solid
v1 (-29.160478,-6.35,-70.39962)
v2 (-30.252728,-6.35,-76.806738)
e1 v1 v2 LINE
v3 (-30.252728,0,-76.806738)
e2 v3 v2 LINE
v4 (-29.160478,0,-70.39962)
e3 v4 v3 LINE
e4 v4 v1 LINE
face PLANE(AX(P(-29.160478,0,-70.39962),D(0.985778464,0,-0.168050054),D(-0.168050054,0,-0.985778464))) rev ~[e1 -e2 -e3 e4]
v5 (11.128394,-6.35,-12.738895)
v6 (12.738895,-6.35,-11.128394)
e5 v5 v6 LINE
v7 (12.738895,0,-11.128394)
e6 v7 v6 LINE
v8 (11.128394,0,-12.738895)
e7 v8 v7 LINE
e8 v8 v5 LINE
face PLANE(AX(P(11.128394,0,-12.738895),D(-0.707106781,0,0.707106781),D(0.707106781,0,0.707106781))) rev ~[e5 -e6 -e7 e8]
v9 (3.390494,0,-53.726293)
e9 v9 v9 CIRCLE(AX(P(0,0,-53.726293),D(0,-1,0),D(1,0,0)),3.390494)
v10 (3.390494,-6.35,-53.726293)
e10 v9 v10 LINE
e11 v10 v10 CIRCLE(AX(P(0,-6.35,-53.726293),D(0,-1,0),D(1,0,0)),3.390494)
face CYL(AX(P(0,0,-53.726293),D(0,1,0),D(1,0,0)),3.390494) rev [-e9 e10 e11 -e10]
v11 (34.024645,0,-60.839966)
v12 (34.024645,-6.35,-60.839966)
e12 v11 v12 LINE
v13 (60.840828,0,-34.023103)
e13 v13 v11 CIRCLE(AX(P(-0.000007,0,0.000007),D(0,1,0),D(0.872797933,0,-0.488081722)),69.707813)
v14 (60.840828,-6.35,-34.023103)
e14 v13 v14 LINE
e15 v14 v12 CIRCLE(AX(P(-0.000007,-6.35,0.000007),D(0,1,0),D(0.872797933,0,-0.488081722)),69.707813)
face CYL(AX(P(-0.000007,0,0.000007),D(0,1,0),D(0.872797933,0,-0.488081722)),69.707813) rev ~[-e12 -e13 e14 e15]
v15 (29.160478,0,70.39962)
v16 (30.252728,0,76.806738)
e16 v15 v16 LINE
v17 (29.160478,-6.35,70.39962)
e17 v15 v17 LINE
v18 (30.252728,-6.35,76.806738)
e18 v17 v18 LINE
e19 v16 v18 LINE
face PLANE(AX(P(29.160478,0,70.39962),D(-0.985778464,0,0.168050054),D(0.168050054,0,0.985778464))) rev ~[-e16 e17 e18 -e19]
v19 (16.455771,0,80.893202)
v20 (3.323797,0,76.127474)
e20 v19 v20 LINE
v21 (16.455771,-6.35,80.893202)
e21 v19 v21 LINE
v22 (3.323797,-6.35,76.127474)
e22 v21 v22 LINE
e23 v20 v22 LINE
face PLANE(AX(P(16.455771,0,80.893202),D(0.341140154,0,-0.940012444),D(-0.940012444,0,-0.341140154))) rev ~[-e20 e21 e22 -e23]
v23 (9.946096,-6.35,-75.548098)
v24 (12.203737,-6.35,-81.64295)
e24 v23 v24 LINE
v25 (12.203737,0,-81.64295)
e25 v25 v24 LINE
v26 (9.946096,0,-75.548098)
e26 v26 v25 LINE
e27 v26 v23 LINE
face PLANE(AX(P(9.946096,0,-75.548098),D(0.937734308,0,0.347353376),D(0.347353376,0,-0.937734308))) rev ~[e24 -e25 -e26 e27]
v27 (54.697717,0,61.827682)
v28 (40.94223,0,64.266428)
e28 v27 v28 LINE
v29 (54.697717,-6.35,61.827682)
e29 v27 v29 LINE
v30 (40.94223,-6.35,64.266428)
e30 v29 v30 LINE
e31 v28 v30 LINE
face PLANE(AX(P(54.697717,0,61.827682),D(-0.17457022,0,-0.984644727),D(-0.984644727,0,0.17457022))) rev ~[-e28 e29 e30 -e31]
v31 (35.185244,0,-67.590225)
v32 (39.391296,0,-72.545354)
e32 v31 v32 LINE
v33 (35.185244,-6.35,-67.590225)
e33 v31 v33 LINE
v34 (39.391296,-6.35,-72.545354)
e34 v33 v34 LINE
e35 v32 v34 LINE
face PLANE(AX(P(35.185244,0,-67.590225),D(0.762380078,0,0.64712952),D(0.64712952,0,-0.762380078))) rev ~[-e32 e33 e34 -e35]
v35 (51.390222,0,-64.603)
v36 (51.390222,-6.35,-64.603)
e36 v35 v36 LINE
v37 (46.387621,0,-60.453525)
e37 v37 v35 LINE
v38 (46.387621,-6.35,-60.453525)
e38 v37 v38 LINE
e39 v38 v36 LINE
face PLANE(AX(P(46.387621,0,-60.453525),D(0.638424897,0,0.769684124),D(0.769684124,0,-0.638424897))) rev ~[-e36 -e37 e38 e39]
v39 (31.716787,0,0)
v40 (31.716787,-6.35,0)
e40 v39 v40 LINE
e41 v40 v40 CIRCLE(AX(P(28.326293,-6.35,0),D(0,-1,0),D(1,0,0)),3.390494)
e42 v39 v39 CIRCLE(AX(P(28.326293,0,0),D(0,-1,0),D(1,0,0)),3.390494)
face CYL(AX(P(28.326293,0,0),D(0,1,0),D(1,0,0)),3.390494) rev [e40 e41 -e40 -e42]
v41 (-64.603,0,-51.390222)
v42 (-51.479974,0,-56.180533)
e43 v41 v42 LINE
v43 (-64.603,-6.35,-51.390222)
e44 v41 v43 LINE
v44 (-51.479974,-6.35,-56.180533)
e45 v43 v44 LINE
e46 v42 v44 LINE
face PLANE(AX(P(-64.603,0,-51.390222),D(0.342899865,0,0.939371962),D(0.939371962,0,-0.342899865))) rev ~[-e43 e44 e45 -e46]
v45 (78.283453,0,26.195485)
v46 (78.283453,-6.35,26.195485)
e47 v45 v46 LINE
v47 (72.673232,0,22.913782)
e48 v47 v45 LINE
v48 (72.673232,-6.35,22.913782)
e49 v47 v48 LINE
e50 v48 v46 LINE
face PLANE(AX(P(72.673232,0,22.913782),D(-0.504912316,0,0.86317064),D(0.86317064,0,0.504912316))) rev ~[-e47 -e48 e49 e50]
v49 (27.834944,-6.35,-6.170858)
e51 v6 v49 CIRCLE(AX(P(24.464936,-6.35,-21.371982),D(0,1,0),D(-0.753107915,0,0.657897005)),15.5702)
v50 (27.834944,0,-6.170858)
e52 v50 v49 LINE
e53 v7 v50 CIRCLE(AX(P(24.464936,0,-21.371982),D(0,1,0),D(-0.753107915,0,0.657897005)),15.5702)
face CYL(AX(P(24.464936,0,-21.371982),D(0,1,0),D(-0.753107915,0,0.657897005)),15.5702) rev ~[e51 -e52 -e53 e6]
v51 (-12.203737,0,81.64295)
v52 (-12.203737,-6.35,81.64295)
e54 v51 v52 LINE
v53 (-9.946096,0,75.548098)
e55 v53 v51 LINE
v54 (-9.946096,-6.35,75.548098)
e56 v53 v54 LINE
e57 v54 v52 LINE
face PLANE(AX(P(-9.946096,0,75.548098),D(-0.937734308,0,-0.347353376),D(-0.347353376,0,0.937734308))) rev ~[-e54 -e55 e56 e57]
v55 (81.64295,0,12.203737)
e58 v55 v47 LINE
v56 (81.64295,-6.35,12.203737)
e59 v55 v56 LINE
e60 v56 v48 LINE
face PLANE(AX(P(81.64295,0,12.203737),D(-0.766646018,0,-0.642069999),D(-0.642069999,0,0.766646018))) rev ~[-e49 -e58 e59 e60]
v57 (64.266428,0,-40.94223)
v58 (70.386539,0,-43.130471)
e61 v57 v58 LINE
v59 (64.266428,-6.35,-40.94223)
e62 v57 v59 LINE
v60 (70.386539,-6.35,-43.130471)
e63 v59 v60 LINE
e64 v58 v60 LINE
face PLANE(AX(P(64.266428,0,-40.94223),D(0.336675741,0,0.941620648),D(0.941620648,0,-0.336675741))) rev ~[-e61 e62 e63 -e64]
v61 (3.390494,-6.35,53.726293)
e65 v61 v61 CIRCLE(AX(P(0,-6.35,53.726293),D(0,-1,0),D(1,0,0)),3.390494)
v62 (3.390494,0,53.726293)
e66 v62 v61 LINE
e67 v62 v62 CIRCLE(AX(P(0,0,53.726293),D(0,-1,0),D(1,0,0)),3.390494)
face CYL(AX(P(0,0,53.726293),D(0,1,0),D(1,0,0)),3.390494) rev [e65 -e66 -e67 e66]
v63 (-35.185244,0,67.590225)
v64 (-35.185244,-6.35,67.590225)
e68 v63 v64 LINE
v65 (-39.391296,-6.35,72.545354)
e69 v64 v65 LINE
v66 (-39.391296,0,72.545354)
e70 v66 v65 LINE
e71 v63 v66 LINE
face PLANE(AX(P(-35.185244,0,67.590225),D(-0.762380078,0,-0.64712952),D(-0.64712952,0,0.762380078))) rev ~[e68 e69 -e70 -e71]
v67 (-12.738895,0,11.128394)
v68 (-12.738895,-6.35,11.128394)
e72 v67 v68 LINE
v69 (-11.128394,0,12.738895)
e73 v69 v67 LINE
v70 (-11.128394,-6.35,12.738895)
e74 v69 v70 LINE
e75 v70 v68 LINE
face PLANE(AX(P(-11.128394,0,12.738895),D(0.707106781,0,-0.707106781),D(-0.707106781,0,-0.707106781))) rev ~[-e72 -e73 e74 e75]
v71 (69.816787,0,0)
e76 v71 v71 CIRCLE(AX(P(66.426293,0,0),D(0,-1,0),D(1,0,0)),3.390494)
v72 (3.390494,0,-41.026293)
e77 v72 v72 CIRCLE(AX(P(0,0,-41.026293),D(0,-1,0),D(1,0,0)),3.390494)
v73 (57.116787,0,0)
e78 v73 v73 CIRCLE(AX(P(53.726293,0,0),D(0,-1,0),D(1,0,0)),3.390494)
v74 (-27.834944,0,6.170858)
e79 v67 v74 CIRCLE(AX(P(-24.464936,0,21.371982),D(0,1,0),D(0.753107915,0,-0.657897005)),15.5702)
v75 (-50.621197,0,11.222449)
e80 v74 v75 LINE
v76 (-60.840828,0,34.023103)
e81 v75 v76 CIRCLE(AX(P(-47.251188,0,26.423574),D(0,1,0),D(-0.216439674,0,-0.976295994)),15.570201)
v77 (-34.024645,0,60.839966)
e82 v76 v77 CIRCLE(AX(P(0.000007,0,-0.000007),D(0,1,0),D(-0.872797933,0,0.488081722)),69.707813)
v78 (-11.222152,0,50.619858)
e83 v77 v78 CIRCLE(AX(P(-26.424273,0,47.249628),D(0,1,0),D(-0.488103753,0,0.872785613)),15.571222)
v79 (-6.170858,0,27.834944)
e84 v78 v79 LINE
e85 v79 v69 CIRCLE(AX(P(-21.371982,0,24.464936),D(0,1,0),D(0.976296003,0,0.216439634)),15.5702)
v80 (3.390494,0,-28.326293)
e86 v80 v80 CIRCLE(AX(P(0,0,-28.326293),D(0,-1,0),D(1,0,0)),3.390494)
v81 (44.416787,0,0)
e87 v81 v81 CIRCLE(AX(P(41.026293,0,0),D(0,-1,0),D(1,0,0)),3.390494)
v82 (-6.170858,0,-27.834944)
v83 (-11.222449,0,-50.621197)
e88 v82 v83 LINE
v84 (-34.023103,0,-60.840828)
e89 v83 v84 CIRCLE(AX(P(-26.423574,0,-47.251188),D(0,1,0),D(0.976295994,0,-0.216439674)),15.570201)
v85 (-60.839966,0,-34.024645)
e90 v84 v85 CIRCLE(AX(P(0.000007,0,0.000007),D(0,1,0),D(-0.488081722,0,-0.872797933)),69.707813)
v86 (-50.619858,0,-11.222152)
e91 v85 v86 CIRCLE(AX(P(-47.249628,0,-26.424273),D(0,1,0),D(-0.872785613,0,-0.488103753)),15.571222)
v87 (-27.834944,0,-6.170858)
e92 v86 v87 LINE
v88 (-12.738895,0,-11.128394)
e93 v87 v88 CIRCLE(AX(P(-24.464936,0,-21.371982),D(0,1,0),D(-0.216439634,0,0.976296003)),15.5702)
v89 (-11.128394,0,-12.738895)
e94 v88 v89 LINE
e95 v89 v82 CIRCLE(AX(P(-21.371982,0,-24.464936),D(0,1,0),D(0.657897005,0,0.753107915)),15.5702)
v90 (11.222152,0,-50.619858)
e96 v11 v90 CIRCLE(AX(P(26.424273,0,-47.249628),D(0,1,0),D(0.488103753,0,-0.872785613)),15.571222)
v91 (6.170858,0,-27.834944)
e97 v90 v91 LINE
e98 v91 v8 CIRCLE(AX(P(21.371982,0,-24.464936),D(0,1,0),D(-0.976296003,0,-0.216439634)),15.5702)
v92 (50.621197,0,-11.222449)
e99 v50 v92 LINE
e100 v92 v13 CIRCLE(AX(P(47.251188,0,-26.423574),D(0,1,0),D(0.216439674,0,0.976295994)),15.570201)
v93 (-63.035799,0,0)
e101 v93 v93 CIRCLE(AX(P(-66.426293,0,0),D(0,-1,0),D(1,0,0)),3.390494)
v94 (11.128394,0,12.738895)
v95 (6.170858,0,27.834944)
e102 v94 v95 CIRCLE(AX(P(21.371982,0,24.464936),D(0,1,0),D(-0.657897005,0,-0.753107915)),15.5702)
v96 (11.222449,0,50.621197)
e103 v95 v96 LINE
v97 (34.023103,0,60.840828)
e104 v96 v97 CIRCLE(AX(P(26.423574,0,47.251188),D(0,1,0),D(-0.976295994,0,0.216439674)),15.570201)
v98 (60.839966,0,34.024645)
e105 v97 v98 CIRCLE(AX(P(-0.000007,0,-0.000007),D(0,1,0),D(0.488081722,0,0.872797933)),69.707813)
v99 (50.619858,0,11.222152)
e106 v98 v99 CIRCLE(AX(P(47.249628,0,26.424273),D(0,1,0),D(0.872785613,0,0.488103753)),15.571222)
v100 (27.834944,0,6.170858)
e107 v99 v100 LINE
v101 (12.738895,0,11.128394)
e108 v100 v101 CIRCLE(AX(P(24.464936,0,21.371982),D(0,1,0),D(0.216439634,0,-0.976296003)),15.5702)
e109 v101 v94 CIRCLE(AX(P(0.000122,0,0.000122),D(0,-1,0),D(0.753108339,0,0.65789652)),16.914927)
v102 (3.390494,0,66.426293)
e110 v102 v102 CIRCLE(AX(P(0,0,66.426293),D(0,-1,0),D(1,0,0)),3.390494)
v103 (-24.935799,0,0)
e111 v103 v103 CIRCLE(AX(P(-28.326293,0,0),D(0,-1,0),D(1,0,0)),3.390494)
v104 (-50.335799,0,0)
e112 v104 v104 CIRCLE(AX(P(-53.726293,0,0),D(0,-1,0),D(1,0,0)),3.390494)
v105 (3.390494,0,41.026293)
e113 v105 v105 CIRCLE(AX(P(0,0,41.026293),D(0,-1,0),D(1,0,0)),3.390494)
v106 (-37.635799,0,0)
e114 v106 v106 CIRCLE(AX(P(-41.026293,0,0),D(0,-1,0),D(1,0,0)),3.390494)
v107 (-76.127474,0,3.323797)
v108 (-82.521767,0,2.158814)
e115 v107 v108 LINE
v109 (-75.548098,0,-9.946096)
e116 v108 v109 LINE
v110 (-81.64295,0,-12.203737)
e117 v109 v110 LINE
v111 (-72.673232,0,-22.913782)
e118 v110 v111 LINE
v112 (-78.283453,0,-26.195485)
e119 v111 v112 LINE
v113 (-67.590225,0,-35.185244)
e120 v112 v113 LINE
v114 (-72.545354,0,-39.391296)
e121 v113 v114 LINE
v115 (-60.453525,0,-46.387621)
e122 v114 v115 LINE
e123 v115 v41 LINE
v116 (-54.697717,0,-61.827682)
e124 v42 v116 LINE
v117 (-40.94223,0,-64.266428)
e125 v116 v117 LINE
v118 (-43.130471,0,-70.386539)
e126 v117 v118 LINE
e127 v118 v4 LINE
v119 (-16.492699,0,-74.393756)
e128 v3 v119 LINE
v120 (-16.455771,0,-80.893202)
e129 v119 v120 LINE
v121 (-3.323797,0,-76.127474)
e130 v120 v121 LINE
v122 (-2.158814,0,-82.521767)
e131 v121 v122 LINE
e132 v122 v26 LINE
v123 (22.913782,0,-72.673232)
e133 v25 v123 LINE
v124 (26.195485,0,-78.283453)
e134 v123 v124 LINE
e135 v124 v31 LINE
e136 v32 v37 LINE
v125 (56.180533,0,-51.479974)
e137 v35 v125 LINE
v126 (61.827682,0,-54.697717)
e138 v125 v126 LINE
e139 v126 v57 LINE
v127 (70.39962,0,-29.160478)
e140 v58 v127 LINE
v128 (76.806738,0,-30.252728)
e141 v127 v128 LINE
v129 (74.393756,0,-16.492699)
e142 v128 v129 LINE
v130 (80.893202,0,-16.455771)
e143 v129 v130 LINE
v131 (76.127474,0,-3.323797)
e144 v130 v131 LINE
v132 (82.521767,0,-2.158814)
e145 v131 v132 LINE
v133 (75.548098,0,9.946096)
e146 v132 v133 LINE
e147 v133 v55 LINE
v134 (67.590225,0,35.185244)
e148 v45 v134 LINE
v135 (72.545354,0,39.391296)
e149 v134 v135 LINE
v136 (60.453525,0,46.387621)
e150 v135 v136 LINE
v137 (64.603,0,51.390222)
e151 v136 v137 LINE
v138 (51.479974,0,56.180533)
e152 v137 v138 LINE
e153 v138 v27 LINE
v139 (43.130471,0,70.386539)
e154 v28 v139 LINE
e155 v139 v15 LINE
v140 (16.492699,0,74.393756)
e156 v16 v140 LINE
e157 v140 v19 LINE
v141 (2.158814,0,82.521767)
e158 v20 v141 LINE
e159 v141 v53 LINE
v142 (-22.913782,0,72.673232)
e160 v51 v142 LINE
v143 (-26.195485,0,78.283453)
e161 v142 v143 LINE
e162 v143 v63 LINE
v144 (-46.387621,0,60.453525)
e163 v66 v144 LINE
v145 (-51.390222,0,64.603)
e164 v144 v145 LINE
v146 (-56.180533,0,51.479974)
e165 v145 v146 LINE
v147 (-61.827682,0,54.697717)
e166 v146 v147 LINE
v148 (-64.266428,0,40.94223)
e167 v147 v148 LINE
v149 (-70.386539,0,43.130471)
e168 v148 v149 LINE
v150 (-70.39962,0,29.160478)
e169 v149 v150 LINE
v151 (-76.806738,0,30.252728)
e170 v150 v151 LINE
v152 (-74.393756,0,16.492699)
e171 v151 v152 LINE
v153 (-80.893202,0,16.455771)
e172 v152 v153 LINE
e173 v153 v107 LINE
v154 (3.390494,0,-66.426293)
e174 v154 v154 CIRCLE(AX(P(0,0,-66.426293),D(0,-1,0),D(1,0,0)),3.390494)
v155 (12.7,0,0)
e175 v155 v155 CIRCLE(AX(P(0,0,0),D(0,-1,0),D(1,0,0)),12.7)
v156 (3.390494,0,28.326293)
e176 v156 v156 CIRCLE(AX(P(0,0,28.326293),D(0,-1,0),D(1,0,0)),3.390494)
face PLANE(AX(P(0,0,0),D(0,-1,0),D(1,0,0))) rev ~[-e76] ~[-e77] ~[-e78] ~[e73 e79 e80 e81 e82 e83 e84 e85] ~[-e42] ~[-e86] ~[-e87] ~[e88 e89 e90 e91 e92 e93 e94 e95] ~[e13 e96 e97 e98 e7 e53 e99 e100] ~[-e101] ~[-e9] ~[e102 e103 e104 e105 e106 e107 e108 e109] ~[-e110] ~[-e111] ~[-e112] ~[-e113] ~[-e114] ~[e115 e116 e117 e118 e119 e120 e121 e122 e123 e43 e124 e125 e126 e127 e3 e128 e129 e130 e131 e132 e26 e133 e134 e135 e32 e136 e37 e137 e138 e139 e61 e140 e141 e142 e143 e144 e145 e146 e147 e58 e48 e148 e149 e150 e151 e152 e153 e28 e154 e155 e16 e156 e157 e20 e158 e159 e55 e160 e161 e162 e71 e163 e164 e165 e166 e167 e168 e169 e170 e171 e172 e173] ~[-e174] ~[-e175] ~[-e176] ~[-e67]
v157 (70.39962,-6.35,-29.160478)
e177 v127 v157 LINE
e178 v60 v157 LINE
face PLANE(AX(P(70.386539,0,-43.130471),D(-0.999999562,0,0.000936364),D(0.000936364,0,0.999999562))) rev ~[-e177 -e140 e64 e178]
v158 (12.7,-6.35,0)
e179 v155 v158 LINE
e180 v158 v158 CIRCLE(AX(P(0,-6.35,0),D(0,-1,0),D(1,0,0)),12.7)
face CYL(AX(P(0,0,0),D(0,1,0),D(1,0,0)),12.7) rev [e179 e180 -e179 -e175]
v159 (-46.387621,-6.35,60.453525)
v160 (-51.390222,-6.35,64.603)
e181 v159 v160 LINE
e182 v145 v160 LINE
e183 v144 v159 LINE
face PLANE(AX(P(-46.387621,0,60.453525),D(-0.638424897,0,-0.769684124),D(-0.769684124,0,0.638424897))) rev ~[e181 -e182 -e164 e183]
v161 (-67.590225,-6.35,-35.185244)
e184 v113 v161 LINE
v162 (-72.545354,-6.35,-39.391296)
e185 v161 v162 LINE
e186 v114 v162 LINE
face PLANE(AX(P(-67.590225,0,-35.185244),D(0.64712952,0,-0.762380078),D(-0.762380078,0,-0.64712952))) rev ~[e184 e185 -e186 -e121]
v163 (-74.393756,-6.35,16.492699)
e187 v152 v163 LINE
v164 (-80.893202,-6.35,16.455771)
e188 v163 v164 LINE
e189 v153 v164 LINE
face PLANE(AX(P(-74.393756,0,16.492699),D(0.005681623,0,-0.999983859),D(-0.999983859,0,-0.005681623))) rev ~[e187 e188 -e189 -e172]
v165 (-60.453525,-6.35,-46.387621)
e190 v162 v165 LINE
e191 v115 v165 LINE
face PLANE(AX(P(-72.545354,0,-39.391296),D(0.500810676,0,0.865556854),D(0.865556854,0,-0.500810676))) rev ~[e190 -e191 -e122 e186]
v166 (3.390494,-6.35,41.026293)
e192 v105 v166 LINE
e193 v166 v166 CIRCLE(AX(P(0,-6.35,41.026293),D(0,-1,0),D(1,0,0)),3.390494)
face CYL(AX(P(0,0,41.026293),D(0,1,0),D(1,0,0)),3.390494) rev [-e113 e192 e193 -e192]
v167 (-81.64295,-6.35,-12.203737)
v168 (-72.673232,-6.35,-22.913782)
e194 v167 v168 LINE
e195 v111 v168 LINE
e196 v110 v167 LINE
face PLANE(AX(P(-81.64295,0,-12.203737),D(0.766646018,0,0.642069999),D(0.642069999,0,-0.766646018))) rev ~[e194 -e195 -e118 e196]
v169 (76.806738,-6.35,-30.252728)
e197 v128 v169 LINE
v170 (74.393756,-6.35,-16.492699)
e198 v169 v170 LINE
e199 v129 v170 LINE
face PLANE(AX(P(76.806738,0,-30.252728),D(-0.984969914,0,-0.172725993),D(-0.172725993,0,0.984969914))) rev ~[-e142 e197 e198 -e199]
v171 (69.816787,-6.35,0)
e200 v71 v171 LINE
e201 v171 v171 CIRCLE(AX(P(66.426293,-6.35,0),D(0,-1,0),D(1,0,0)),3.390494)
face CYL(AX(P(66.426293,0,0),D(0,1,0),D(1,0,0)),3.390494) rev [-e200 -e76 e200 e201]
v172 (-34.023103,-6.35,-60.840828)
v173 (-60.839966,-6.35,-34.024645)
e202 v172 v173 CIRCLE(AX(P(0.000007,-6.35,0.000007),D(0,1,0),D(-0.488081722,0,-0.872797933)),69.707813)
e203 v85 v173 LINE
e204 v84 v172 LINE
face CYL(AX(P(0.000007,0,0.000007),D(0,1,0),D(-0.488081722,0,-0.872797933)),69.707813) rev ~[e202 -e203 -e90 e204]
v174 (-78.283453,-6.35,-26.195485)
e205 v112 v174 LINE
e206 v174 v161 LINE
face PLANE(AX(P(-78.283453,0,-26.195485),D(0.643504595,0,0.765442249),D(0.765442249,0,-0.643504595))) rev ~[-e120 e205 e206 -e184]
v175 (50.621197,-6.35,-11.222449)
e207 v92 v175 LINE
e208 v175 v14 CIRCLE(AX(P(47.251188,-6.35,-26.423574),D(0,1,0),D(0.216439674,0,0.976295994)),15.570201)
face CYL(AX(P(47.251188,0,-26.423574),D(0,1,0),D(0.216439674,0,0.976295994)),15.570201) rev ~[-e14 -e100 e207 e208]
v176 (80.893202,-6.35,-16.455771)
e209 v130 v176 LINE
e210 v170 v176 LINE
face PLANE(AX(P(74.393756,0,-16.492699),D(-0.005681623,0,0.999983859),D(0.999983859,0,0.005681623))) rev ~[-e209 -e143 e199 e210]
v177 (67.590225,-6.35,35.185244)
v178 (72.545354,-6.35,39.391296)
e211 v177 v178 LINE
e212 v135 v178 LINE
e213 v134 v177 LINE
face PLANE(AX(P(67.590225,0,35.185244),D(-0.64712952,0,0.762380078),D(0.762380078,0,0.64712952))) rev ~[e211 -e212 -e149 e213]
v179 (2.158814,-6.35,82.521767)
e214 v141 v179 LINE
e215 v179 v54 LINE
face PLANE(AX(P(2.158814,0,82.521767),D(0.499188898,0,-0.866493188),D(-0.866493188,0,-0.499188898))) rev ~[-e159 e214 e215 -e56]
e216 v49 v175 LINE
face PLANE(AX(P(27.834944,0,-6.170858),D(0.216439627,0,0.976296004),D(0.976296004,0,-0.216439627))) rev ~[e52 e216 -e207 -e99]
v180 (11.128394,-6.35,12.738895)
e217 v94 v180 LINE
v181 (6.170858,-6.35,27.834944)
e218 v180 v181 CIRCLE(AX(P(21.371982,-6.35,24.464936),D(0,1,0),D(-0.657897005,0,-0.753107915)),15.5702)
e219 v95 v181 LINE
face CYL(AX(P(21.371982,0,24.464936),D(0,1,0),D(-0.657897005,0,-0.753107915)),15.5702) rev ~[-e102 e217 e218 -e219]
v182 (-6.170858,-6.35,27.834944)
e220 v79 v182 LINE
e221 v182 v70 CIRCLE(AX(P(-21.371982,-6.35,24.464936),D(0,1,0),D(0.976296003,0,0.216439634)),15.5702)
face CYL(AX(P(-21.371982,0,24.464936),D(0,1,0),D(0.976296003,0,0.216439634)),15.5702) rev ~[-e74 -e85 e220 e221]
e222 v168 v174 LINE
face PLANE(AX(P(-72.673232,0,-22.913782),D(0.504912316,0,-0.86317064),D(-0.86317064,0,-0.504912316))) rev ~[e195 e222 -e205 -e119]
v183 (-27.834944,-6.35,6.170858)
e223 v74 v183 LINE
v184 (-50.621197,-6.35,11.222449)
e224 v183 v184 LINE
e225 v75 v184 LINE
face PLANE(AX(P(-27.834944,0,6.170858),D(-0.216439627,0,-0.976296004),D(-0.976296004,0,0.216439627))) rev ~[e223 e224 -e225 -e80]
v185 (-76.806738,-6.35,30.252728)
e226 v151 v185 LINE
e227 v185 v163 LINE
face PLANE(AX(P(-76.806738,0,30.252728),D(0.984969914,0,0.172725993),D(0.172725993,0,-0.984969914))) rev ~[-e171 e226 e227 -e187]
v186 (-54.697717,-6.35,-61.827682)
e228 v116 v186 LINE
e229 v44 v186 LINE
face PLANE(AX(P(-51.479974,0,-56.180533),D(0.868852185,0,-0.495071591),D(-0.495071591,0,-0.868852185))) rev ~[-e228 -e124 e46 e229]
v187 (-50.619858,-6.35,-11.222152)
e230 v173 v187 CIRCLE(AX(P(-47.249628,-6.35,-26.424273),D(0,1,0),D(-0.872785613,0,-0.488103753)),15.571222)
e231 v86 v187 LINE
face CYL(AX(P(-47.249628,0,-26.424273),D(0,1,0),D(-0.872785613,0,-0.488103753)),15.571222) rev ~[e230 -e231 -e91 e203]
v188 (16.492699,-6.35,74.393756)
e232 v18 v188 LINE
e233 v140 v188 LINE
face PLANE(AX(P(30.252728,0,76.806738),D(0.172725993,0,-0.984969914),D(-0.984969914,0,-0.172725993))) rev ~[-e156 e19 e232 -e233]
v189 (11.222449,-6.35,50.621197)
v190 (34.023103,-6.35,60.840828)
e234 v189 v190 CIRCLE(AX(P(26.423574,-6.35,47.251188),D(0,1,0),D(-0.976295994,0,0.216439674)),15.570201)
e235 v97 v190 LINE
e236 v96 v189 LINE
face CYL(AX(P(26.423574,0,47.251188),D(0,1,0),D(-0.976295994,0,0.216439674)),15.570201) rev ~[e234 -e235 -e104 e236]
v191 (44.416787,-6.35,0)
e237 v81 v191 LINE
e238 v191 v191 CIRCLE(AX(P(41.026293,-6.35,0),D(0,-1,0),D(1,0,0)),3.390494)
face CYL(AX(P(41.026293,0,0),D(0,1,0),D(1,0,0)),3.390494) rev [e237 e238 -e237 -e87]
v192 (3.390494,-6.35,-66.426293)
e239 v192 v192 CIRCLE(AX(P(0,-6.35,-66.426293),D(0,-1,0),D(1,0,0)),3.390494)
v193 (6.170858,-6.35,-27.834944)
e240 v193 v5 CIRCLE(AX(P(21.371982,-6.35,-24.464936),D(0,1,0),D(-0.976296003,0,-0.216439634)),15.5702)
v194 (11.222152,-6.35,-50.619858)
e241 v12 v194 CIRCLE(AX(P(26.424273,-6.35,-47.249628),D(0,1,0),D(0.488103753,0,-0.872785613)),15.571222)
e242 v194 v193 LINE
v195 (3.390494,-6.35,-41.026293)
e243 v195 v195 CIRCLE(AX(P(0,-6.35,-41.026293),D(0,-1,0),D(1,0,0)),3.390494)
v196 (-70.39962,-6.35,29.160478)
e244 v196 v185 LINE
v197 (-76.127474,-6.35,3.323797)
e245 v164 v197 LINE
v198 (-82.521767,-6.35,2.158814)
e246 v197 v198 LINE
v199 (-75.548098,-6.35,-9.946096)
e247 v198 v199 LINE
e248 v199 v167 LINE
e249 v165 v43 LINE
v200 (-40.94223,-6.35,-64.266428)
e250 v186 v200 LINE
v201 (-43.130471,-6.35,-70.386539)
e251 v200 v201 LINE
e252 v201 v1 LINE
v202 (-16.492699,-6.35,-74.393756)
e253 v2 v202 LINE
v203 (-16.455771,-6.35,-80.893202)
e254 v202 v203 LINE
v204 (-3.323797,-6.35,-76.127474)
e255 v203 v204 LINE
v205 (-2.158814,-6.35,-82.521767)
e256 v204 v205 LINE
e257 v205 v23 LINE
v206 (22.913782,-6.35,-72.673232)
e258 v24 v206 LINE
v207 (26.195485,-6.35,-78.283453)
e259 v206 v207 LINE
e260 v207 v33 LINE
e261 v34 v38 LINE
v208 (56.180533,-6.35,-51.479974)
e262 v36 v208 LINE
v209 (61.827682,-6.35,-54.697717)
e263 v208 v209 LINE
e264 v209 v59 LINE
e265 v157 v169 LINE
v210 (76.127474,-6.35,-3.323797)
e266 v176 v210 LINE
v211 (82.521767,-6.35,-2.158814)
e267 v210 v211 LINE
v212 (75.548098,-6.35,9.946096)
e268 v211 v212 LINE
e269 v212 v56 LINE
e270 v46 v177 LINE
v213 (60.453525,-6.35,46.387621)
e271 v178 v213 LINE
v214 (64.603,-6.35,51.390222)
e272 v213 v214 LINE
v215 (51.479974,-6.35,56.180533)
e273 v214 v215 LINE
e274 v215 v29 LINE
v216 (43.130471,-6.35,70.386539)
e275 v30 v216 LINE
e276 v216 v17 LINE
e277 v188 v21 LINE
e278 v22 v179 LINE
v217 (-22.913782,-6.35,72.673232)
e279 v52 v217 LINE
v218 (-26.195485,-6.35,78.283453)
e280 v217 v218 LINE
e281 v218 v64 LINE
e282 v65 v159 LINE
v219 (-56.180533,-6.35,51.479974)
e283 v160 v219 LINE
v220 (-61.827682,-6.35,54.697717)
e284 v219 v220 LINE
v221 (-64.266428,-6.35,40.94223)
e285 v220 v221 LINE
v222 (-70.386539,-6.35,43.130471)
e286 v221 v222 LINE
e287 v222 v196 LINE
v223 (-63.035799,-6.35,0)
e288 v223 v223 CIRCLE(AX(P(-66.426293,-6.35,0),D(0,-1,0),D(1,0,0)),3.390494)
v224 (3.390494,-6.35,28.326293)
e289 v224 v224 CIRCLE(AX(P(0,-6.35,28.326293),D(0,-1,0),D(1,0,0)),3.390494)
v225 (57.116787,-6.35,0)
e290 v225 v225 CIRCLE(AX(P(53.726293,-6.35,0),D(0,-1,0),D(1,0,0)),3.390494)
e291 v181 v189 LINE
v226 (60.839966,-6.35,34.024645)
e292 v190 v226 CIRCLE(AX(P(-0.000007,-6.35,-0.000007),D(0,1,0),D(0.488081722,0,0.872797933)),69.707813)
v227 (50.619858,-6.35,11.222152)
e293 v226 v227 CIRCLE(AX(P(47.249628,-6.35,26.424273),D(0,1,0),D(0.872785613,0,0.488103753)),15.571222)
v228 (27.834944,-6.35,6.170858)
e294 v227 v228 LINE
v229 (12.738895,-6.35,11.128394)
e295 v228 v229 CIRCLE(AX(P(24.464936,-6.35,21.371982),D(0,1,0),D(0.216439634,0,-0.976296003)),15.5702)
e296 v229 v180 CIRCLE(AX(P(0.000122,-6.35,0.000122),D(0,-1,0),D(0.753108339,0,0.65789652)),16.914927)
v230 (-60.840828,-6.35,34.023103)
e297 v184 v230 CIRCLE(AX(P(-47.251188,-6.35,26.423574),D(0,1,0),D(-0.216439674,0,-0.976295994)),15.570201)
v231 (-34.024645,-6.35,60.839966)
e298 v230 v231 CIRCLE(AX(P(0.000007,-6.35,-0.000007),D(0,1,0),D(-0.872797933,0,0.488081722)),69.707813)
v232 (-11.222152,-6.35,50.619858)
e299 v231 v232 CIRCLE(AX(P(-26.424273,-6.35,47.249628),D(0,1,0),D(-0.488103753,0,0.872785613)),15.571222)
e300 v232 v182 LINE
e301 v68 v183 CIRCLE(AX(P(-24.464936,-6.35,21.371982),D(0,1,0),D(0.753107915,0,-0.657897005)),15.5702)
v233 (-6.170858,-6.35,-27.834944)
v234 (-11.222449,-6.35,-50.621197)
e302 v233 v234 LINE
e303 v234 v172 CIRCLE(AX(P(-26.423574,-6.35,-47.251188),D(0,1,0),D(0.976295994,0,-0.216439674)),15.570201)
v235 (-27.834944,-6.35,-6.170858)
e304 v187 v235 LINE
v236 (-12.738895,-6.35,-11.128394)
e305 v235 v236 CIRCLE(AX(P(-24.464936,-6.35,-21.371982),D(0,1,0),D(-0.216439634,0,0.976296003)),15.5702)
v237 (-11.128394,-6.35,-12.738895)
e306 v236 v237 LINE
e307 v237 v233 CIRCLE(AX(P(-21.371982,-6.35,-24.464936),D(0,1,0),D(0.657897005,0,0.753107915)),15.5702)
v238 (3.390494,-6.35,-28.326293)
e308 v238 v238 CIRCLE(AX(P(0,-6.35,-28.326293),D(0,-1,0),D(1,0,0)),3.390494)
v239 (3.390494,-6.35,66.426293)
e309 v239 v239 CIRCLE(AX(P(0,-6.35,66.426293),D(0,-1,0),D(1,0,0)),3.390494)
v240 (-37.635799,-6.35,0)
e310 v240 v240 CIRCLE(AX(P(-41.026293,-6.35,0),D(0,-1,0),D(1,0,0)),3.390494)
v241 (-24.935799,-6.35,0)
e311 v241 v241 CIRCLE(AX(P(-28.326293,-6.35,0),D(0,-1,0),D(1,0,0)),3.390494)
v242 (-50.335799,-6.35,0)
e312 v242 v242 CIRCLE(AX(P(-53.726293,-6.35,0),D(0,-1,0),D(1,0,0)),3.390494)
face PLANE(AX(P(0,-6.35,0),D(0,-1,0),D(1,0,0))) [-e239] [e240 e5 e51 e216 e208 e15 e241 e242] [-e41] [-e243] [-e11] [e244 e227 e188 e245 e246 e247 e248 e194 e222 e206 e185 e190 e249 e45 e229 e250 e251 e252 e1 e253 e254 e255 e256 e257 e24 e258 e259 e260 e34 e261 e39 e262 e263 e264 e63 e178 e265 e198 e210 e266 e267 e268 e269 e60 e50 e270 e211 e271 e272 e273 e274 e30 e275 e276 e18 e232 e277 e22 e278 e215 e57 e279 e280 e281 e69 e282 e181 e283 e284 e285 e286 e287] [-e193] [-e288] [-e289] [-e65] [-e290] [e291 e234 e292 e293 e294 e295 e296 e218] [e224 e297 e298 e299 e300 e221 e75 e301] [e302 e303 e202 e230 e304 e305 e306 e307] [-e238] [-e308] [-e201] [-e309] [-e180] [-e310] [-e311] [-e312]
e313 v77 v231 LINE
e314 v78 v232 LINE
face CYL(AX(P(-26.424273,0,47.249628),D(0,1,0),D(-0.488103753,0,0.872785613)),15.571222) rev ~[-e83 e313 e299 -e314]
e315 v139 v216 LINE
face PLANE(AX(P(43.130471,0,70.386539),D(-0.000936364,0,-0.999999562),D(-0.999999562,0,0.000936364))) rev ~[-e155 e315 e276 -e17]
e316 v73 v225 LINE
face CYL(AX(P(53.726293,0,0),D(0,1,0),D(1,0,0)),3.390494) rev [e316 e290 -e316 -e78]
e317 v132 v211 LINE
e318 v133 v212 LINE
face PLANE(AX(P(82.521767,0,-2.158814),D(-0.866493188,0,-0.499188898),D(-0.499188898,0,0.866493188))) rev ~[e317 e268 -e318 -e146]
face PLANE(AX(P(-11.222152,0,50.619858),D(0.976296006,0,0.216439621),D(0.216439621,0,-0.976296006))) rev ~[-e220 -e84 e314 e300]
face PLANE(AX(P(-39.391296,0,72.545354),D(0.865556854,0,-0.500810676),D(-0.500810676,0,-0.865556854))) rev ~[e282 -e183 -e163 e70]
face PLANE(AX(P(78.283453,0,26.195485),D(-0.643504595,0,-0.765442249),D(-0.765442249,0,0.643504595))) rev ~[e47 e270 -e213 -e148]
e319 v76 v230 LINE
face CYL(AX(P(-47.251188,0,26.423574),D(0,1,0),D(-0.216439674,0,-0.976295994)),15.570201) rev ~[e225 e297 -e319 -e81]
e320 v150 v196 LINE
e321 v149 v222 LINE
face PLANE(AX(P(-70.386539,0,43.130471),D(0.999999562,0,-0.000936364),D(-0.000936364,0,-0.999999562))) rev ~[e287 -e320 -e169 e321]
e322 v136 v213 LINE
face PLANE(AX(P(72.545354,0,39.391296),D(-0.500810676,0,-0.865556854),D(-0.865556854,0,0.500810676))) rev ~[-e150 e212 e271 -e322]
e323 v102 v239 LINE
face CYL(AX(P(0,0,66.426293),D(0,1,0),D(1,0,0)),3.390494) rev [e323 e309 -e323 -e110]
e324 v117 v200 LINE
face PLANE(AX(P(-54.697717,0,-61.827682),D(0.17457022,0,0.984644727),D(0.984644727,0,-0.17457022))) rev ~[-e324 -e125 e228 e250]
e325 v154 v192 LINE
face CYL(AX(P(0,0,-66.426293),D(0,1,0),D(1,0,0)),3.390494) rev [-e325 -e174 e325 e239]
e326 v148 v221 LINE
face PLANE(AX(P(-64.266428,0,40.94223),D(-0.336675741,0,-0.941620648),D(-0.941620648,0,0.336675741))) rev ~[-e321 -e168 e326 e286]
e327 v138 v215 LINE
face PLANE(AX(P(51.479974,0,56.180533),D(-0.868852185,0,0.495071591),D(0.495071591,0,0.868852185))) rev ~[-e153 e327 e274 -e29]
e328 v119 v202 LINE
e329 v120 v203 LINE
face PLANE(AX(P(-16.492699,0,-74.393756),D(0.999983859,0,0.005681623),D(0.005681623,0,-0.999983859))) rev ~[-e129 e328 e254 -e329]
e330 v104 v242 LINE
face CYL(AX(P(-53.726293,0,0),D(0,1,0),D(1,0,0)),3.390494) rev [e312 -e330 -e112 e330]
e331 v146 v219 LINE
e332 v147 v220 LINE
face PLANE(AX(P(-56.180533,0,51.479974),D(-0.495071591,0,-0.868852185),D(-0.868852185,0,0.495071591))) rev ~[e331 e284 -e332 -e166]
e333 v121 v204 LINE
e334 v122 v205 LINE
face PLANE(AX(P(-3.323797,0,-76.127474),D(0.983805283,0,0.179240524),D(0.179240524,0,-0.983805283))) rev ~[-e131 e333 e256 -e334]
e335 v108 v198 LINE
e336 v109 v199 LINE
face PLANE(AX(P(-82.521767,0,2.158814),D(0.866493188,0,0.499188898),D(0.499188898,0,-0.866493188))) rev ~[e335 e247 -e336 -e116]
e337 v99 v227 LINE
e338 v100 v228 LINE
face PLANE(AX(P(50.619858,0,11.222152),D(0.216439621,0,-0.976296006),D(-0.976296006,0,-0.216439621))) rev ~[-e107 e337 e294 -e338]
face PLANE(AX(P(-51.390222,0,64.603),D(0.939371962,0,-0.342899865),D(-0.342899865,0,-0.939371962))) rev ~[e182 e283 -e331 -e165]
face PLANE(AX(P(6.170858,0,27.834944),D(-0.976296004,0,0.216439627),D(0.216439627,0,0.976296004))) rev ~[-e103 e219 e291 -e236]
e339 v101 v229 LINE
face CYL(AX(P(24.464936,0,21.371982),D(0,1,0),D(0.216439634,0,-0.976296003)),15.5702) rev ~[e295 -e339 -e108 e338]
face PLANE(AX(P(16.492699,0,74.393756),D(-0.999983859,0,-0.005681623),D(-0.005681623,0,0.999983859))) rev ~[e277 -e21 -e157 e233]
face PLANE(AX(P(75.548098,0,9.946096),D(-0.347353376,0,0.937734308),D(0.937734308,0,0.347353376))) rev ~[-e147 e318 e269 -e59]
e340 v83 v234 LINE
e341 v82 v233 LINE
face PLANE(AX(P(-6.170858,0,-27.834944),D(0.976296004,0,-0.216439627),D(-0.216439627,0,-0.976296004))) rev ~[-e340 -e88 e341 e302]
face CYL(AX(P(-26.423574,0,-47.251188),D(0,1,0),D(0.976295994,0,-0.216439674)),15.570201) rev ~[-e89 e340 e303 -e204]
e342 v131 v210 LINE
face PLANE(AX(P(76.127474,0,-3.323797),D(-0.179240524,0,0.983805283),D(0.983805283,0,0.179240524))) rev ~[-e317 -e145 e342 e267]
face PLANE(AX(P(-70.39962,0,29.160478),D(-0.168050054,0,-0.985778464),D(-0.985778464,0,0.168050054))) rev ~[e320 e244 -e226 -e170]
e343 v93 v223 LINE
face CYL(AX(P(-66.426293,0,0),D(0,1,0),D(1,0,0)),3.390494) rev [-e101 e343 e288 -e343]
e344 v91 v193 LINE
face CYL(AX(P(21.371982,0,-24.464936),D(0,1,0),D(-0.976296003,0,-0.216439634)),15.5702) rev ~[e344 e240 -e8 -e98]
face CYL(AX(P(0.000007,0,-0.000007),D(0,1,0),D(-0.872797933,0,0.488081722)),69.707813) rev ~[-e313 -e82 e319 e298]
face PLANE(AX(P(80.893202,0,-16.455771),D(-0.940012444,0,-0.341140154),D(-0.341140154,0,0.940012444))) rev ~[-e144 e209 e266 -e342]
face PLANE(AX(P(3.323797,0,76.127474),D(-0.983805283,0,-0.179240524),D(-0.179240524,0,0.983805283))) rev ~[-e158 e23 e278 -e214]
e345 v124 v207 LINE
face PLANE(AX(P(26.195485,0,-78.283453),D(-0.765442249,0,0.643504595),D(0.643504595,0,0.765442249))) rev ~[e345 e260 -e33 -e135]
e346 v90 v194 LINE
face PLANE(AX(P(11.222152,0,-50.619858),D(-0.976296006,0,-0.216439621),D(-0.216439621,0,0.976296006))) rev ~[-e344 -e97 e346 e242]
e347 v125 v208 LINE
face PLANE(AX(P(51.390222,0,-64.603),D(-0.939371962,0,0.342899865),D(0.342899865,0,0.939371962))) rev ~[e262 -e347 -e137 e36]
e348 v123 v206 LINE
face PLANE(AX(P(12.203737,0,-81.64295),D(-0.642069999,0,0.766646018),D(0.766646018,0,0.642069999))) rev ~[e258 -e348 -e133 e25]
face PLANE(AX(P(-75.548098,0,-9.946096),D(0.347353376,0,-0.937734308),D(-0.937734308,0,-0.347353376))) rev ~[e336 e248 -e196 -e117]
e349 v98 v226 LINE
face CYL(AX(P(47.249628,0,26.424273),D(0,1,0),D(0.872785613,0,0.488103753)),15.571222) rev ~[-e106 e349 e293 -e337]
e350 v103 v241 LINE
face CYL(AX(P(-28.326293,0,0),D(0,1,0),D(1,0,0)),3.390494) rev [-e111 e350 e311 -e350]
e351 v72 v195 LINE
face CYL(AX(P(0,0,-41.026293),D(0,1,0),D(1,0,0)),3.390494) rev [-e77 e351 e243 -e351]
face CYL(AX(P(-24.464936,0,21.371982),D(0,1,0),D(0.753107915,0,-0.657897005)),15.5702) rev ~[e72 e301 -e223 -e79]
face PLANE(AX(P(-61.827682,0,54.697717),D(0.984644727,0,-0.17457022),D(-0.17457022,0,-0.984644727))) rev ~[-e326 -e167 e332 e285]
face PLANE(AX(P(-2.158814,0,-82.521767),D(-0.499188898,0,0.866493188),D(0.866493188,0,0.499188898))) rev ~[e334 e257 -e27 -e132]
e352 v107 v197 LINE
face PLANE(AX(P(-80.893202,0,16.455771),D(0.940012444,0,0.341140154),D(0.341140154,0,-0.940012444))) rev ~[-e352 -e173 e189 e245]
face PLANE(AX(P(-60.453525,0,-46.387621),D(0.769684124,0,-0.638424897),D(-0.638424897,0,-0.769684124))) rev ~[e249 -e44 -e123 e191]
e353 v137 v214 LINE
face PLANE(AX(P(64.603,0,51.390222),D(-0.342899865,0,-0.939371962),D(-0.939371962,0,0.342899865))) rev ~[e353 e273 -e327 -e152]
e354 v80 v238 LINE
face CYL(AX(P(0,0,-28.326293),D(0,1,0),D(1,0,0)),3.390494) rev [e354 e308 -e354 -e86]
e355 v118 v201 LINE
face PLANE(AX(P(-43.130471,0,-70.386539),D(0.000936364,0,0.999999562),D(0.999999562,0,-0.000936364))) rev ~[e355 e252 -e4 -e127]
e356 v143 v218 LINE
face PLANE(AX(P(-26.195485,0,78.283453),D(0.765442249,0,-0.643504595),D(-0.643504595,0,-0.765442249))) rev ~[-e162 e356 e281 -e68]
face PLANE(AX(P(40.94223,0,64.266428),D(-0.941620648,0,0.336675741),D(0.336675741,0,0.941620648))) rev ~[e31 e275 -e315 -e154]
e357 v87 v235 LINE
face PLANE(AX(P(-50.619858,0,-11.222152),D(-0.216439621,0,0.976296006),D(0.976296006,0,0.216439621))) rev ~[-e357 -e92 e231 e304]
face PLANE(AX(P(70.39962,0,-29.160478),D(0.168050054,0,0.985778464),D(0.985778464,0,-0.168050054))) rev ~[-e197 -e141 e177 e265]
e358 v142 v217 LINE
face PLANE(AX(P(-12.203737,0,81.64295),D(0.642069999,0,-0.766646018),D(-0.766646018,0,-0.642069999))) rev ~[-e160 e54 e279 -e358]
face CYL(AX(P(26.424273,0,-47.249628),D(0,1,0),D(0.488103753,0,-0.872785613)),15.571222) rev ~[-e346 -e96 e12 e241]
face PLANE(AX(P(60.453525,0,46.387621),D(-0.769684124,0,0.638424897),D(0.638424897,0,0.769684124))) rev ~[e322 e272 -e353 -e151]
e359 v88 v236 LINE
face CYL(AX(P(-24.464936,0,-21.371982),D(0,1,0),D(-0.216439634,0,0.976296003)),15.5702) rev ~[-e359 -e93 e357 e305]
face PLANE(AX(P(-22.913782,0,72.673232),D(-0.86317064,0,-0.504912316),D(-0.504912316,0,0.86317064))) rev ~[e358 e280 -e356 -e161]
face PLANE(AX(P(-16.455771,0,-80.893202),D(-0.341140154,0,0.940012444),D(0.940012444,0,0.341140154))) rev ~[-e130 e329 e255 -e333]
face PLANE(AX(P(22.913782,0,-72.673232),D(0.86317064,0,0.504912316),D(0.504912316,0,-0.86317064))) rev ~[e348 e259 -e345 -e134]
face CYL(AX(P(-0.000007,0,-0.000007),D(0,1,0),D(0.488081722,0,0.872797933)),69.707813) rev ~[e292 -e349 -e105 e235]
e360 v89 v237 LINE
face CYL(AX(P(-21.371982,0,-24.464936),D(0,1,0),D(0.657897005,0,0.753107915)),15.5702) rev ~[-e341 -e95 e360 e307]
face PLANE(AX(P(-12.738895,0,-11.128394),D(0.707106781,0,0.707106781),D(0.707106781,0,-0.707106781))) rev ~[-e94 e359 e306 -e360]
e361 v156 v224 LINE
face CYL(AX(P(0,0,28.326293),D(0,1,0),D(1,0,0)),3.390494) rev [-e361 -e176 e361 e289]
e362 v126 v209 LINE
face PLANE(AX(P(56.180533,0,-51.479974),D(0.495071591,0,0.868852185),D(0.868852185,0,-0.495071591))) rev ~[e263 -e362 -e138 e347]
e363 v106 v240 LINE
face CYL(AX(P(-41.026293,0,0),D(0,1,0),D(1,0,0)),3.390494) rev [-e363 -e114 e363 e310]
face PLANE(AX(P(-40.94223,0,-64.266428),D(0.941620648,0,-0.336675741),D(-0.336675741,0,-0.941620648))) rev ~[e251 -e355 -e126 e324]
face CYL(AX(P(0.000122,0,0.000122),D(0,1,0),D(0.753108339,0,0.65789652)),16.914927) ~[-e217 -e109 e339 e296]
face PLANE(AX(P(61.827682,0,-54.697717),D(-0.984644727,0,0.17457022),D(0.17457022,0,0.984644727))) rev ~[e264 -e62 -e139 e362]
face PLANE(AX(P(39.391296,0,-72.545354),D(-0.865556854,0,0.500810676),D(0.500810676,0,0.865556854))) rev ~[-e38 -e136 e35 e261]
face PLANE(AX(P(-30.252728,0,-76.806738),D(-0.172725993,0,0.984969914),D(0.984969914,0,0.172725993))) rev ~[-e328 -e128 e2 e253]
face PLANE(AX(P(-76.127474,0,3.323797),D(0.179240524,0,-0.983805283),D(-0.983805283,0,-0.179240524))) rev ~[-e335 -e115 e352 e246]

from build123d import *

# Parameters (mm, degrees)
F0_R     = 3.390494
F0_R_2   = 12.7
F1_DEPTH = 6.35


with BuildPart() as f1:
    # F0 (on Front) → F1 (new body)
    with BuildSketch(Plane.XZ):
        Polygon((-80.893202, 16.455771), (-76.127474, 3.323797), (-82.521767, 2.158814), (-75.548098, -9.946096), (-81.64295, -12.203737), (-72.673232, -22.913782), (-78.283453, -26.195485), (-67.590225, -35.185244), (-72.545354, -39.391296), (-60.453525, -46.387621), (-64.603, -51.390222), (-51.479974, -56.180533), (-54.697717, -61.827682), (-40.94223, -64.266428), (-43.130471, -70.386539), (-29.160478, -70.39962), (-30.252728, -76.806738), (-16.492699, -74.393756), (-16.455771, -80.893202), (-3.323797, -76.127474), (-2.158814, -82.521767), (9.946096, -75.548098), (12.203737, -81.64295), (22.913782, -72.673232), (26.195485, -78.283453), (35.185244, -67.590225), (39.391296, -72.545354), (46.387621, -60.453525), (51.390222, -64.603), (56.180533, -51.479974), (61.827682, -54.697717), (64.266428, -40.94223), (70.386539, -43.130471), (70.39962, -29.160478), (76.806738, -30.252728), (74.393756, -16.492699), (80.893202, -16.455771), (76.127474, -3.323797), (82.521767, -2.158814), (75.548098, 9.946096), (81.64295, 12.203737), (72.673232, 22.913782), (78.283453, 26.195485), (67.590225, 35.185244), (72.545354, 39.391296), (60.453525, 46.387621), (64.603, 51.390222), (51.479974, 56.180533), (54.697717, 61.827682), (40.94223, 64.266428), (43.130471, 70.386539), (29.160478, 70.39962), (30.252728, 76.806738), (16.492699, 74.393756), (16.455771, 80.893202), (3.323797, 76.127474), (2.158814, 82.521767), (-9.946096, 75.548098), (-12.203737, 81.64295), (-22.913782, 72.673232), (-26.195485, 78.283453), (-35.185244, 67.590225), (-39.391296, 72.545354), (-46.387621, 60.453525), (-51.390222, 64.603), (-56.180533, 51.479974), (-61.827682, 54.697717), (-64.266428, 40.94223), (-70.386539, 43.130471), (-70.39962, 29.160478), (-76.806738, 30.252728), (-74.393756, 16.492699), align=None)
        with BuildLine():
            ThreePointArc((-11.128394, -12.738895), (-6.579044, -19.606941), (-6.170858, -27.834944))
            Line((-6.170858, -27.834944), (-11.222449, -50.621197))
            ThreePointArc((-11.222449, -50.621197), (-20.055193, -61.459456), (-34.023103, -60.840828))
            ThreePointArc((-34.023103, -60.840828), (-49.290236, -49.291485), (-60.839966, -34.024645))
            ThreePointArc((-60.839966, -34.024645), (-61.458908, -20.055655), (-50.619858, -11.222152))
            Line((-50.619858, -11.222152), (-27.834944, -6.170858))
            ThreePointArc((-27.834944, -6.170858), (-19.606941, -6.579044), (-12.738895, -11.128394))
            Line((-12.738895, -11.128394), (-11.128394, -12.738895))
        make_face(mode=Mode.SUBTRACT)
        with Locations((0, -66.426293)):
            Circle(F0_R, mode=Mode.SUBTRACT)
        with Locations((0, -53.726293)):
            Circle(F0_R, mode=Mode.SUBTRACT)
        with Locations((0, -41.026293)):
            Circle(F0_R, mode=Mode.SUBTRACT)
        with Locations((0, -28.326293)):
            Circle(F0_R, mode=Mode.SUBTRACT)
        with BuildLine():
            ThreePointArc((12.738895, -11.128394), (19.606941, -6.579044), (27.834944, -6.170858))
            Line((27.834944, -6.170858), (50.621197, -11.222449))
            ThreePointArc((50.621197, -11.222449), (61.459456, -20.055193), (60.840828, -34.023103))
            ThreePointArc((60.840828, -34.023103), (49.291485, -49.290236), (34.024645, -60.839966))
            ThreePointArc((34.024645, -60.839966), (20.055655, -61.458908), (11.222152, -50.619858))
            Line((11.222152, -50.619858), (6.170858, -27.834944))
            ThreePointArc((6.170858, -27.834944), (6.579044, -19.606941), (11.128394, -12.738895))
            Line((11.128394, -12.738895), (12.738895, -11.128394))
        make_face(mode=Mode.SUBTRACT)
        with Locations((-66.426293, 0)):
            Circle(F0_R, mode=Mode.SUBTRACT)
        with Locations((-53.726293, 0)):
            Circle(F0_R, mode=Mode.SUBTRACT)
        with Locations((-41.026293, 0)):
            Circle(F0_R, mode=Mode.SUBTRACT)
        with Locations((-28.326293, 0)):
            Circle(F0_R, mode=Mode.SUBTRACT)
        with BuildLine():
            ThreePointArc((-12.738895, 11.128394), (-19.606941, 6.579044), (-27.834944, 6.170858))
            Line((-27.834944, 6.170858), (-50.621197, 11.222449))
            ThreePointArc((-50.621197, 11.222449), (-61.459456, 20.055193), (-60.840828, 34.023103))
            ThreePointArc((-60.840828, 34.023103), (-49.291485, 49.290236), (-34.024645, 60.839966))
            ThreePointArc((-34.024645, 60.839966), (-20.055655, 61.458908), (-11.222152, 50.619858))
            Line((-11.222152, 50.619858), (-6.170858, 27.834944))
            ThreePointArc((-6.170858, 27.834944), (-6.579044, 19.606941), (-11.128394, 12.738895))
            Line((-11.128394, 12.738895), (-12.738895, 11.128394))
        make_face(mode=Mode.SUBTRACT)
        Circle(F0_R_2, mode=Mode.SUBTRACT)
        with Locations((28.326293, 0)):
            Circle(F0_R, mode=Mode.SUBTRACT)
        with Locations((41.026293, 0)):
            Circle(F0_R, mode=Mode.SUBTRACT)
        with Locations((0, 28.326293)):
            Circle(F0_R, mode=Mode.SUBTRACT)
        with Locations((0, 41.026293)):
            Circle(F0_R, mode=Mode.SUBTRACT)
        with BuildLine():
            Line((50.619858, 11.222152), (27.834944, 6.170858))
            ThreePointArc((27.834944, 6.170858), (19.606941, 6.579044), (12.738895, 11.128394))
            ThreePointArc((12.738895, 11.128394), (11.960782, 11.960782), (11.128394, 12.738895))
            ThreePointArc((11.128394, 12.738895), (6.579044, 19.606941), (6.170858, 27.834944))
            Line((6.170858, 27.834944), (11.222449, 50.621197))
            ThreePointArc((11.222449, 50.621197), (20.055193, 61.459456), (34.023103, 60.840828))
            ThreePointArc((34.023103, 60.840828), (49.290236, 49.291485), (60.839966, 34.024645))
            ThreePointArc((60.839966, 34.024645), (61.458908, 20.055655), (50.619858, 11.222152))
        make_face(mode=Mode.SUBTRACT)
        with Locations((53.726293, 0)):
            Circle(F0_R, mode=Mode.SUBTRACT)
        with Locations((66.426293, 0)):
            Circle(F0_R, mode=Mode.SUBTRACT)
        with Locations((0, 53.726293)):
            Circle(F0_R, mode=Mode.SUBTRACT)
        with Locations((0, 66.426293)):
            Circle(F0_R, mode=Mode.SUBTRACT)
    extrude(amount=F1_DEPTH)


solid = f1.part
